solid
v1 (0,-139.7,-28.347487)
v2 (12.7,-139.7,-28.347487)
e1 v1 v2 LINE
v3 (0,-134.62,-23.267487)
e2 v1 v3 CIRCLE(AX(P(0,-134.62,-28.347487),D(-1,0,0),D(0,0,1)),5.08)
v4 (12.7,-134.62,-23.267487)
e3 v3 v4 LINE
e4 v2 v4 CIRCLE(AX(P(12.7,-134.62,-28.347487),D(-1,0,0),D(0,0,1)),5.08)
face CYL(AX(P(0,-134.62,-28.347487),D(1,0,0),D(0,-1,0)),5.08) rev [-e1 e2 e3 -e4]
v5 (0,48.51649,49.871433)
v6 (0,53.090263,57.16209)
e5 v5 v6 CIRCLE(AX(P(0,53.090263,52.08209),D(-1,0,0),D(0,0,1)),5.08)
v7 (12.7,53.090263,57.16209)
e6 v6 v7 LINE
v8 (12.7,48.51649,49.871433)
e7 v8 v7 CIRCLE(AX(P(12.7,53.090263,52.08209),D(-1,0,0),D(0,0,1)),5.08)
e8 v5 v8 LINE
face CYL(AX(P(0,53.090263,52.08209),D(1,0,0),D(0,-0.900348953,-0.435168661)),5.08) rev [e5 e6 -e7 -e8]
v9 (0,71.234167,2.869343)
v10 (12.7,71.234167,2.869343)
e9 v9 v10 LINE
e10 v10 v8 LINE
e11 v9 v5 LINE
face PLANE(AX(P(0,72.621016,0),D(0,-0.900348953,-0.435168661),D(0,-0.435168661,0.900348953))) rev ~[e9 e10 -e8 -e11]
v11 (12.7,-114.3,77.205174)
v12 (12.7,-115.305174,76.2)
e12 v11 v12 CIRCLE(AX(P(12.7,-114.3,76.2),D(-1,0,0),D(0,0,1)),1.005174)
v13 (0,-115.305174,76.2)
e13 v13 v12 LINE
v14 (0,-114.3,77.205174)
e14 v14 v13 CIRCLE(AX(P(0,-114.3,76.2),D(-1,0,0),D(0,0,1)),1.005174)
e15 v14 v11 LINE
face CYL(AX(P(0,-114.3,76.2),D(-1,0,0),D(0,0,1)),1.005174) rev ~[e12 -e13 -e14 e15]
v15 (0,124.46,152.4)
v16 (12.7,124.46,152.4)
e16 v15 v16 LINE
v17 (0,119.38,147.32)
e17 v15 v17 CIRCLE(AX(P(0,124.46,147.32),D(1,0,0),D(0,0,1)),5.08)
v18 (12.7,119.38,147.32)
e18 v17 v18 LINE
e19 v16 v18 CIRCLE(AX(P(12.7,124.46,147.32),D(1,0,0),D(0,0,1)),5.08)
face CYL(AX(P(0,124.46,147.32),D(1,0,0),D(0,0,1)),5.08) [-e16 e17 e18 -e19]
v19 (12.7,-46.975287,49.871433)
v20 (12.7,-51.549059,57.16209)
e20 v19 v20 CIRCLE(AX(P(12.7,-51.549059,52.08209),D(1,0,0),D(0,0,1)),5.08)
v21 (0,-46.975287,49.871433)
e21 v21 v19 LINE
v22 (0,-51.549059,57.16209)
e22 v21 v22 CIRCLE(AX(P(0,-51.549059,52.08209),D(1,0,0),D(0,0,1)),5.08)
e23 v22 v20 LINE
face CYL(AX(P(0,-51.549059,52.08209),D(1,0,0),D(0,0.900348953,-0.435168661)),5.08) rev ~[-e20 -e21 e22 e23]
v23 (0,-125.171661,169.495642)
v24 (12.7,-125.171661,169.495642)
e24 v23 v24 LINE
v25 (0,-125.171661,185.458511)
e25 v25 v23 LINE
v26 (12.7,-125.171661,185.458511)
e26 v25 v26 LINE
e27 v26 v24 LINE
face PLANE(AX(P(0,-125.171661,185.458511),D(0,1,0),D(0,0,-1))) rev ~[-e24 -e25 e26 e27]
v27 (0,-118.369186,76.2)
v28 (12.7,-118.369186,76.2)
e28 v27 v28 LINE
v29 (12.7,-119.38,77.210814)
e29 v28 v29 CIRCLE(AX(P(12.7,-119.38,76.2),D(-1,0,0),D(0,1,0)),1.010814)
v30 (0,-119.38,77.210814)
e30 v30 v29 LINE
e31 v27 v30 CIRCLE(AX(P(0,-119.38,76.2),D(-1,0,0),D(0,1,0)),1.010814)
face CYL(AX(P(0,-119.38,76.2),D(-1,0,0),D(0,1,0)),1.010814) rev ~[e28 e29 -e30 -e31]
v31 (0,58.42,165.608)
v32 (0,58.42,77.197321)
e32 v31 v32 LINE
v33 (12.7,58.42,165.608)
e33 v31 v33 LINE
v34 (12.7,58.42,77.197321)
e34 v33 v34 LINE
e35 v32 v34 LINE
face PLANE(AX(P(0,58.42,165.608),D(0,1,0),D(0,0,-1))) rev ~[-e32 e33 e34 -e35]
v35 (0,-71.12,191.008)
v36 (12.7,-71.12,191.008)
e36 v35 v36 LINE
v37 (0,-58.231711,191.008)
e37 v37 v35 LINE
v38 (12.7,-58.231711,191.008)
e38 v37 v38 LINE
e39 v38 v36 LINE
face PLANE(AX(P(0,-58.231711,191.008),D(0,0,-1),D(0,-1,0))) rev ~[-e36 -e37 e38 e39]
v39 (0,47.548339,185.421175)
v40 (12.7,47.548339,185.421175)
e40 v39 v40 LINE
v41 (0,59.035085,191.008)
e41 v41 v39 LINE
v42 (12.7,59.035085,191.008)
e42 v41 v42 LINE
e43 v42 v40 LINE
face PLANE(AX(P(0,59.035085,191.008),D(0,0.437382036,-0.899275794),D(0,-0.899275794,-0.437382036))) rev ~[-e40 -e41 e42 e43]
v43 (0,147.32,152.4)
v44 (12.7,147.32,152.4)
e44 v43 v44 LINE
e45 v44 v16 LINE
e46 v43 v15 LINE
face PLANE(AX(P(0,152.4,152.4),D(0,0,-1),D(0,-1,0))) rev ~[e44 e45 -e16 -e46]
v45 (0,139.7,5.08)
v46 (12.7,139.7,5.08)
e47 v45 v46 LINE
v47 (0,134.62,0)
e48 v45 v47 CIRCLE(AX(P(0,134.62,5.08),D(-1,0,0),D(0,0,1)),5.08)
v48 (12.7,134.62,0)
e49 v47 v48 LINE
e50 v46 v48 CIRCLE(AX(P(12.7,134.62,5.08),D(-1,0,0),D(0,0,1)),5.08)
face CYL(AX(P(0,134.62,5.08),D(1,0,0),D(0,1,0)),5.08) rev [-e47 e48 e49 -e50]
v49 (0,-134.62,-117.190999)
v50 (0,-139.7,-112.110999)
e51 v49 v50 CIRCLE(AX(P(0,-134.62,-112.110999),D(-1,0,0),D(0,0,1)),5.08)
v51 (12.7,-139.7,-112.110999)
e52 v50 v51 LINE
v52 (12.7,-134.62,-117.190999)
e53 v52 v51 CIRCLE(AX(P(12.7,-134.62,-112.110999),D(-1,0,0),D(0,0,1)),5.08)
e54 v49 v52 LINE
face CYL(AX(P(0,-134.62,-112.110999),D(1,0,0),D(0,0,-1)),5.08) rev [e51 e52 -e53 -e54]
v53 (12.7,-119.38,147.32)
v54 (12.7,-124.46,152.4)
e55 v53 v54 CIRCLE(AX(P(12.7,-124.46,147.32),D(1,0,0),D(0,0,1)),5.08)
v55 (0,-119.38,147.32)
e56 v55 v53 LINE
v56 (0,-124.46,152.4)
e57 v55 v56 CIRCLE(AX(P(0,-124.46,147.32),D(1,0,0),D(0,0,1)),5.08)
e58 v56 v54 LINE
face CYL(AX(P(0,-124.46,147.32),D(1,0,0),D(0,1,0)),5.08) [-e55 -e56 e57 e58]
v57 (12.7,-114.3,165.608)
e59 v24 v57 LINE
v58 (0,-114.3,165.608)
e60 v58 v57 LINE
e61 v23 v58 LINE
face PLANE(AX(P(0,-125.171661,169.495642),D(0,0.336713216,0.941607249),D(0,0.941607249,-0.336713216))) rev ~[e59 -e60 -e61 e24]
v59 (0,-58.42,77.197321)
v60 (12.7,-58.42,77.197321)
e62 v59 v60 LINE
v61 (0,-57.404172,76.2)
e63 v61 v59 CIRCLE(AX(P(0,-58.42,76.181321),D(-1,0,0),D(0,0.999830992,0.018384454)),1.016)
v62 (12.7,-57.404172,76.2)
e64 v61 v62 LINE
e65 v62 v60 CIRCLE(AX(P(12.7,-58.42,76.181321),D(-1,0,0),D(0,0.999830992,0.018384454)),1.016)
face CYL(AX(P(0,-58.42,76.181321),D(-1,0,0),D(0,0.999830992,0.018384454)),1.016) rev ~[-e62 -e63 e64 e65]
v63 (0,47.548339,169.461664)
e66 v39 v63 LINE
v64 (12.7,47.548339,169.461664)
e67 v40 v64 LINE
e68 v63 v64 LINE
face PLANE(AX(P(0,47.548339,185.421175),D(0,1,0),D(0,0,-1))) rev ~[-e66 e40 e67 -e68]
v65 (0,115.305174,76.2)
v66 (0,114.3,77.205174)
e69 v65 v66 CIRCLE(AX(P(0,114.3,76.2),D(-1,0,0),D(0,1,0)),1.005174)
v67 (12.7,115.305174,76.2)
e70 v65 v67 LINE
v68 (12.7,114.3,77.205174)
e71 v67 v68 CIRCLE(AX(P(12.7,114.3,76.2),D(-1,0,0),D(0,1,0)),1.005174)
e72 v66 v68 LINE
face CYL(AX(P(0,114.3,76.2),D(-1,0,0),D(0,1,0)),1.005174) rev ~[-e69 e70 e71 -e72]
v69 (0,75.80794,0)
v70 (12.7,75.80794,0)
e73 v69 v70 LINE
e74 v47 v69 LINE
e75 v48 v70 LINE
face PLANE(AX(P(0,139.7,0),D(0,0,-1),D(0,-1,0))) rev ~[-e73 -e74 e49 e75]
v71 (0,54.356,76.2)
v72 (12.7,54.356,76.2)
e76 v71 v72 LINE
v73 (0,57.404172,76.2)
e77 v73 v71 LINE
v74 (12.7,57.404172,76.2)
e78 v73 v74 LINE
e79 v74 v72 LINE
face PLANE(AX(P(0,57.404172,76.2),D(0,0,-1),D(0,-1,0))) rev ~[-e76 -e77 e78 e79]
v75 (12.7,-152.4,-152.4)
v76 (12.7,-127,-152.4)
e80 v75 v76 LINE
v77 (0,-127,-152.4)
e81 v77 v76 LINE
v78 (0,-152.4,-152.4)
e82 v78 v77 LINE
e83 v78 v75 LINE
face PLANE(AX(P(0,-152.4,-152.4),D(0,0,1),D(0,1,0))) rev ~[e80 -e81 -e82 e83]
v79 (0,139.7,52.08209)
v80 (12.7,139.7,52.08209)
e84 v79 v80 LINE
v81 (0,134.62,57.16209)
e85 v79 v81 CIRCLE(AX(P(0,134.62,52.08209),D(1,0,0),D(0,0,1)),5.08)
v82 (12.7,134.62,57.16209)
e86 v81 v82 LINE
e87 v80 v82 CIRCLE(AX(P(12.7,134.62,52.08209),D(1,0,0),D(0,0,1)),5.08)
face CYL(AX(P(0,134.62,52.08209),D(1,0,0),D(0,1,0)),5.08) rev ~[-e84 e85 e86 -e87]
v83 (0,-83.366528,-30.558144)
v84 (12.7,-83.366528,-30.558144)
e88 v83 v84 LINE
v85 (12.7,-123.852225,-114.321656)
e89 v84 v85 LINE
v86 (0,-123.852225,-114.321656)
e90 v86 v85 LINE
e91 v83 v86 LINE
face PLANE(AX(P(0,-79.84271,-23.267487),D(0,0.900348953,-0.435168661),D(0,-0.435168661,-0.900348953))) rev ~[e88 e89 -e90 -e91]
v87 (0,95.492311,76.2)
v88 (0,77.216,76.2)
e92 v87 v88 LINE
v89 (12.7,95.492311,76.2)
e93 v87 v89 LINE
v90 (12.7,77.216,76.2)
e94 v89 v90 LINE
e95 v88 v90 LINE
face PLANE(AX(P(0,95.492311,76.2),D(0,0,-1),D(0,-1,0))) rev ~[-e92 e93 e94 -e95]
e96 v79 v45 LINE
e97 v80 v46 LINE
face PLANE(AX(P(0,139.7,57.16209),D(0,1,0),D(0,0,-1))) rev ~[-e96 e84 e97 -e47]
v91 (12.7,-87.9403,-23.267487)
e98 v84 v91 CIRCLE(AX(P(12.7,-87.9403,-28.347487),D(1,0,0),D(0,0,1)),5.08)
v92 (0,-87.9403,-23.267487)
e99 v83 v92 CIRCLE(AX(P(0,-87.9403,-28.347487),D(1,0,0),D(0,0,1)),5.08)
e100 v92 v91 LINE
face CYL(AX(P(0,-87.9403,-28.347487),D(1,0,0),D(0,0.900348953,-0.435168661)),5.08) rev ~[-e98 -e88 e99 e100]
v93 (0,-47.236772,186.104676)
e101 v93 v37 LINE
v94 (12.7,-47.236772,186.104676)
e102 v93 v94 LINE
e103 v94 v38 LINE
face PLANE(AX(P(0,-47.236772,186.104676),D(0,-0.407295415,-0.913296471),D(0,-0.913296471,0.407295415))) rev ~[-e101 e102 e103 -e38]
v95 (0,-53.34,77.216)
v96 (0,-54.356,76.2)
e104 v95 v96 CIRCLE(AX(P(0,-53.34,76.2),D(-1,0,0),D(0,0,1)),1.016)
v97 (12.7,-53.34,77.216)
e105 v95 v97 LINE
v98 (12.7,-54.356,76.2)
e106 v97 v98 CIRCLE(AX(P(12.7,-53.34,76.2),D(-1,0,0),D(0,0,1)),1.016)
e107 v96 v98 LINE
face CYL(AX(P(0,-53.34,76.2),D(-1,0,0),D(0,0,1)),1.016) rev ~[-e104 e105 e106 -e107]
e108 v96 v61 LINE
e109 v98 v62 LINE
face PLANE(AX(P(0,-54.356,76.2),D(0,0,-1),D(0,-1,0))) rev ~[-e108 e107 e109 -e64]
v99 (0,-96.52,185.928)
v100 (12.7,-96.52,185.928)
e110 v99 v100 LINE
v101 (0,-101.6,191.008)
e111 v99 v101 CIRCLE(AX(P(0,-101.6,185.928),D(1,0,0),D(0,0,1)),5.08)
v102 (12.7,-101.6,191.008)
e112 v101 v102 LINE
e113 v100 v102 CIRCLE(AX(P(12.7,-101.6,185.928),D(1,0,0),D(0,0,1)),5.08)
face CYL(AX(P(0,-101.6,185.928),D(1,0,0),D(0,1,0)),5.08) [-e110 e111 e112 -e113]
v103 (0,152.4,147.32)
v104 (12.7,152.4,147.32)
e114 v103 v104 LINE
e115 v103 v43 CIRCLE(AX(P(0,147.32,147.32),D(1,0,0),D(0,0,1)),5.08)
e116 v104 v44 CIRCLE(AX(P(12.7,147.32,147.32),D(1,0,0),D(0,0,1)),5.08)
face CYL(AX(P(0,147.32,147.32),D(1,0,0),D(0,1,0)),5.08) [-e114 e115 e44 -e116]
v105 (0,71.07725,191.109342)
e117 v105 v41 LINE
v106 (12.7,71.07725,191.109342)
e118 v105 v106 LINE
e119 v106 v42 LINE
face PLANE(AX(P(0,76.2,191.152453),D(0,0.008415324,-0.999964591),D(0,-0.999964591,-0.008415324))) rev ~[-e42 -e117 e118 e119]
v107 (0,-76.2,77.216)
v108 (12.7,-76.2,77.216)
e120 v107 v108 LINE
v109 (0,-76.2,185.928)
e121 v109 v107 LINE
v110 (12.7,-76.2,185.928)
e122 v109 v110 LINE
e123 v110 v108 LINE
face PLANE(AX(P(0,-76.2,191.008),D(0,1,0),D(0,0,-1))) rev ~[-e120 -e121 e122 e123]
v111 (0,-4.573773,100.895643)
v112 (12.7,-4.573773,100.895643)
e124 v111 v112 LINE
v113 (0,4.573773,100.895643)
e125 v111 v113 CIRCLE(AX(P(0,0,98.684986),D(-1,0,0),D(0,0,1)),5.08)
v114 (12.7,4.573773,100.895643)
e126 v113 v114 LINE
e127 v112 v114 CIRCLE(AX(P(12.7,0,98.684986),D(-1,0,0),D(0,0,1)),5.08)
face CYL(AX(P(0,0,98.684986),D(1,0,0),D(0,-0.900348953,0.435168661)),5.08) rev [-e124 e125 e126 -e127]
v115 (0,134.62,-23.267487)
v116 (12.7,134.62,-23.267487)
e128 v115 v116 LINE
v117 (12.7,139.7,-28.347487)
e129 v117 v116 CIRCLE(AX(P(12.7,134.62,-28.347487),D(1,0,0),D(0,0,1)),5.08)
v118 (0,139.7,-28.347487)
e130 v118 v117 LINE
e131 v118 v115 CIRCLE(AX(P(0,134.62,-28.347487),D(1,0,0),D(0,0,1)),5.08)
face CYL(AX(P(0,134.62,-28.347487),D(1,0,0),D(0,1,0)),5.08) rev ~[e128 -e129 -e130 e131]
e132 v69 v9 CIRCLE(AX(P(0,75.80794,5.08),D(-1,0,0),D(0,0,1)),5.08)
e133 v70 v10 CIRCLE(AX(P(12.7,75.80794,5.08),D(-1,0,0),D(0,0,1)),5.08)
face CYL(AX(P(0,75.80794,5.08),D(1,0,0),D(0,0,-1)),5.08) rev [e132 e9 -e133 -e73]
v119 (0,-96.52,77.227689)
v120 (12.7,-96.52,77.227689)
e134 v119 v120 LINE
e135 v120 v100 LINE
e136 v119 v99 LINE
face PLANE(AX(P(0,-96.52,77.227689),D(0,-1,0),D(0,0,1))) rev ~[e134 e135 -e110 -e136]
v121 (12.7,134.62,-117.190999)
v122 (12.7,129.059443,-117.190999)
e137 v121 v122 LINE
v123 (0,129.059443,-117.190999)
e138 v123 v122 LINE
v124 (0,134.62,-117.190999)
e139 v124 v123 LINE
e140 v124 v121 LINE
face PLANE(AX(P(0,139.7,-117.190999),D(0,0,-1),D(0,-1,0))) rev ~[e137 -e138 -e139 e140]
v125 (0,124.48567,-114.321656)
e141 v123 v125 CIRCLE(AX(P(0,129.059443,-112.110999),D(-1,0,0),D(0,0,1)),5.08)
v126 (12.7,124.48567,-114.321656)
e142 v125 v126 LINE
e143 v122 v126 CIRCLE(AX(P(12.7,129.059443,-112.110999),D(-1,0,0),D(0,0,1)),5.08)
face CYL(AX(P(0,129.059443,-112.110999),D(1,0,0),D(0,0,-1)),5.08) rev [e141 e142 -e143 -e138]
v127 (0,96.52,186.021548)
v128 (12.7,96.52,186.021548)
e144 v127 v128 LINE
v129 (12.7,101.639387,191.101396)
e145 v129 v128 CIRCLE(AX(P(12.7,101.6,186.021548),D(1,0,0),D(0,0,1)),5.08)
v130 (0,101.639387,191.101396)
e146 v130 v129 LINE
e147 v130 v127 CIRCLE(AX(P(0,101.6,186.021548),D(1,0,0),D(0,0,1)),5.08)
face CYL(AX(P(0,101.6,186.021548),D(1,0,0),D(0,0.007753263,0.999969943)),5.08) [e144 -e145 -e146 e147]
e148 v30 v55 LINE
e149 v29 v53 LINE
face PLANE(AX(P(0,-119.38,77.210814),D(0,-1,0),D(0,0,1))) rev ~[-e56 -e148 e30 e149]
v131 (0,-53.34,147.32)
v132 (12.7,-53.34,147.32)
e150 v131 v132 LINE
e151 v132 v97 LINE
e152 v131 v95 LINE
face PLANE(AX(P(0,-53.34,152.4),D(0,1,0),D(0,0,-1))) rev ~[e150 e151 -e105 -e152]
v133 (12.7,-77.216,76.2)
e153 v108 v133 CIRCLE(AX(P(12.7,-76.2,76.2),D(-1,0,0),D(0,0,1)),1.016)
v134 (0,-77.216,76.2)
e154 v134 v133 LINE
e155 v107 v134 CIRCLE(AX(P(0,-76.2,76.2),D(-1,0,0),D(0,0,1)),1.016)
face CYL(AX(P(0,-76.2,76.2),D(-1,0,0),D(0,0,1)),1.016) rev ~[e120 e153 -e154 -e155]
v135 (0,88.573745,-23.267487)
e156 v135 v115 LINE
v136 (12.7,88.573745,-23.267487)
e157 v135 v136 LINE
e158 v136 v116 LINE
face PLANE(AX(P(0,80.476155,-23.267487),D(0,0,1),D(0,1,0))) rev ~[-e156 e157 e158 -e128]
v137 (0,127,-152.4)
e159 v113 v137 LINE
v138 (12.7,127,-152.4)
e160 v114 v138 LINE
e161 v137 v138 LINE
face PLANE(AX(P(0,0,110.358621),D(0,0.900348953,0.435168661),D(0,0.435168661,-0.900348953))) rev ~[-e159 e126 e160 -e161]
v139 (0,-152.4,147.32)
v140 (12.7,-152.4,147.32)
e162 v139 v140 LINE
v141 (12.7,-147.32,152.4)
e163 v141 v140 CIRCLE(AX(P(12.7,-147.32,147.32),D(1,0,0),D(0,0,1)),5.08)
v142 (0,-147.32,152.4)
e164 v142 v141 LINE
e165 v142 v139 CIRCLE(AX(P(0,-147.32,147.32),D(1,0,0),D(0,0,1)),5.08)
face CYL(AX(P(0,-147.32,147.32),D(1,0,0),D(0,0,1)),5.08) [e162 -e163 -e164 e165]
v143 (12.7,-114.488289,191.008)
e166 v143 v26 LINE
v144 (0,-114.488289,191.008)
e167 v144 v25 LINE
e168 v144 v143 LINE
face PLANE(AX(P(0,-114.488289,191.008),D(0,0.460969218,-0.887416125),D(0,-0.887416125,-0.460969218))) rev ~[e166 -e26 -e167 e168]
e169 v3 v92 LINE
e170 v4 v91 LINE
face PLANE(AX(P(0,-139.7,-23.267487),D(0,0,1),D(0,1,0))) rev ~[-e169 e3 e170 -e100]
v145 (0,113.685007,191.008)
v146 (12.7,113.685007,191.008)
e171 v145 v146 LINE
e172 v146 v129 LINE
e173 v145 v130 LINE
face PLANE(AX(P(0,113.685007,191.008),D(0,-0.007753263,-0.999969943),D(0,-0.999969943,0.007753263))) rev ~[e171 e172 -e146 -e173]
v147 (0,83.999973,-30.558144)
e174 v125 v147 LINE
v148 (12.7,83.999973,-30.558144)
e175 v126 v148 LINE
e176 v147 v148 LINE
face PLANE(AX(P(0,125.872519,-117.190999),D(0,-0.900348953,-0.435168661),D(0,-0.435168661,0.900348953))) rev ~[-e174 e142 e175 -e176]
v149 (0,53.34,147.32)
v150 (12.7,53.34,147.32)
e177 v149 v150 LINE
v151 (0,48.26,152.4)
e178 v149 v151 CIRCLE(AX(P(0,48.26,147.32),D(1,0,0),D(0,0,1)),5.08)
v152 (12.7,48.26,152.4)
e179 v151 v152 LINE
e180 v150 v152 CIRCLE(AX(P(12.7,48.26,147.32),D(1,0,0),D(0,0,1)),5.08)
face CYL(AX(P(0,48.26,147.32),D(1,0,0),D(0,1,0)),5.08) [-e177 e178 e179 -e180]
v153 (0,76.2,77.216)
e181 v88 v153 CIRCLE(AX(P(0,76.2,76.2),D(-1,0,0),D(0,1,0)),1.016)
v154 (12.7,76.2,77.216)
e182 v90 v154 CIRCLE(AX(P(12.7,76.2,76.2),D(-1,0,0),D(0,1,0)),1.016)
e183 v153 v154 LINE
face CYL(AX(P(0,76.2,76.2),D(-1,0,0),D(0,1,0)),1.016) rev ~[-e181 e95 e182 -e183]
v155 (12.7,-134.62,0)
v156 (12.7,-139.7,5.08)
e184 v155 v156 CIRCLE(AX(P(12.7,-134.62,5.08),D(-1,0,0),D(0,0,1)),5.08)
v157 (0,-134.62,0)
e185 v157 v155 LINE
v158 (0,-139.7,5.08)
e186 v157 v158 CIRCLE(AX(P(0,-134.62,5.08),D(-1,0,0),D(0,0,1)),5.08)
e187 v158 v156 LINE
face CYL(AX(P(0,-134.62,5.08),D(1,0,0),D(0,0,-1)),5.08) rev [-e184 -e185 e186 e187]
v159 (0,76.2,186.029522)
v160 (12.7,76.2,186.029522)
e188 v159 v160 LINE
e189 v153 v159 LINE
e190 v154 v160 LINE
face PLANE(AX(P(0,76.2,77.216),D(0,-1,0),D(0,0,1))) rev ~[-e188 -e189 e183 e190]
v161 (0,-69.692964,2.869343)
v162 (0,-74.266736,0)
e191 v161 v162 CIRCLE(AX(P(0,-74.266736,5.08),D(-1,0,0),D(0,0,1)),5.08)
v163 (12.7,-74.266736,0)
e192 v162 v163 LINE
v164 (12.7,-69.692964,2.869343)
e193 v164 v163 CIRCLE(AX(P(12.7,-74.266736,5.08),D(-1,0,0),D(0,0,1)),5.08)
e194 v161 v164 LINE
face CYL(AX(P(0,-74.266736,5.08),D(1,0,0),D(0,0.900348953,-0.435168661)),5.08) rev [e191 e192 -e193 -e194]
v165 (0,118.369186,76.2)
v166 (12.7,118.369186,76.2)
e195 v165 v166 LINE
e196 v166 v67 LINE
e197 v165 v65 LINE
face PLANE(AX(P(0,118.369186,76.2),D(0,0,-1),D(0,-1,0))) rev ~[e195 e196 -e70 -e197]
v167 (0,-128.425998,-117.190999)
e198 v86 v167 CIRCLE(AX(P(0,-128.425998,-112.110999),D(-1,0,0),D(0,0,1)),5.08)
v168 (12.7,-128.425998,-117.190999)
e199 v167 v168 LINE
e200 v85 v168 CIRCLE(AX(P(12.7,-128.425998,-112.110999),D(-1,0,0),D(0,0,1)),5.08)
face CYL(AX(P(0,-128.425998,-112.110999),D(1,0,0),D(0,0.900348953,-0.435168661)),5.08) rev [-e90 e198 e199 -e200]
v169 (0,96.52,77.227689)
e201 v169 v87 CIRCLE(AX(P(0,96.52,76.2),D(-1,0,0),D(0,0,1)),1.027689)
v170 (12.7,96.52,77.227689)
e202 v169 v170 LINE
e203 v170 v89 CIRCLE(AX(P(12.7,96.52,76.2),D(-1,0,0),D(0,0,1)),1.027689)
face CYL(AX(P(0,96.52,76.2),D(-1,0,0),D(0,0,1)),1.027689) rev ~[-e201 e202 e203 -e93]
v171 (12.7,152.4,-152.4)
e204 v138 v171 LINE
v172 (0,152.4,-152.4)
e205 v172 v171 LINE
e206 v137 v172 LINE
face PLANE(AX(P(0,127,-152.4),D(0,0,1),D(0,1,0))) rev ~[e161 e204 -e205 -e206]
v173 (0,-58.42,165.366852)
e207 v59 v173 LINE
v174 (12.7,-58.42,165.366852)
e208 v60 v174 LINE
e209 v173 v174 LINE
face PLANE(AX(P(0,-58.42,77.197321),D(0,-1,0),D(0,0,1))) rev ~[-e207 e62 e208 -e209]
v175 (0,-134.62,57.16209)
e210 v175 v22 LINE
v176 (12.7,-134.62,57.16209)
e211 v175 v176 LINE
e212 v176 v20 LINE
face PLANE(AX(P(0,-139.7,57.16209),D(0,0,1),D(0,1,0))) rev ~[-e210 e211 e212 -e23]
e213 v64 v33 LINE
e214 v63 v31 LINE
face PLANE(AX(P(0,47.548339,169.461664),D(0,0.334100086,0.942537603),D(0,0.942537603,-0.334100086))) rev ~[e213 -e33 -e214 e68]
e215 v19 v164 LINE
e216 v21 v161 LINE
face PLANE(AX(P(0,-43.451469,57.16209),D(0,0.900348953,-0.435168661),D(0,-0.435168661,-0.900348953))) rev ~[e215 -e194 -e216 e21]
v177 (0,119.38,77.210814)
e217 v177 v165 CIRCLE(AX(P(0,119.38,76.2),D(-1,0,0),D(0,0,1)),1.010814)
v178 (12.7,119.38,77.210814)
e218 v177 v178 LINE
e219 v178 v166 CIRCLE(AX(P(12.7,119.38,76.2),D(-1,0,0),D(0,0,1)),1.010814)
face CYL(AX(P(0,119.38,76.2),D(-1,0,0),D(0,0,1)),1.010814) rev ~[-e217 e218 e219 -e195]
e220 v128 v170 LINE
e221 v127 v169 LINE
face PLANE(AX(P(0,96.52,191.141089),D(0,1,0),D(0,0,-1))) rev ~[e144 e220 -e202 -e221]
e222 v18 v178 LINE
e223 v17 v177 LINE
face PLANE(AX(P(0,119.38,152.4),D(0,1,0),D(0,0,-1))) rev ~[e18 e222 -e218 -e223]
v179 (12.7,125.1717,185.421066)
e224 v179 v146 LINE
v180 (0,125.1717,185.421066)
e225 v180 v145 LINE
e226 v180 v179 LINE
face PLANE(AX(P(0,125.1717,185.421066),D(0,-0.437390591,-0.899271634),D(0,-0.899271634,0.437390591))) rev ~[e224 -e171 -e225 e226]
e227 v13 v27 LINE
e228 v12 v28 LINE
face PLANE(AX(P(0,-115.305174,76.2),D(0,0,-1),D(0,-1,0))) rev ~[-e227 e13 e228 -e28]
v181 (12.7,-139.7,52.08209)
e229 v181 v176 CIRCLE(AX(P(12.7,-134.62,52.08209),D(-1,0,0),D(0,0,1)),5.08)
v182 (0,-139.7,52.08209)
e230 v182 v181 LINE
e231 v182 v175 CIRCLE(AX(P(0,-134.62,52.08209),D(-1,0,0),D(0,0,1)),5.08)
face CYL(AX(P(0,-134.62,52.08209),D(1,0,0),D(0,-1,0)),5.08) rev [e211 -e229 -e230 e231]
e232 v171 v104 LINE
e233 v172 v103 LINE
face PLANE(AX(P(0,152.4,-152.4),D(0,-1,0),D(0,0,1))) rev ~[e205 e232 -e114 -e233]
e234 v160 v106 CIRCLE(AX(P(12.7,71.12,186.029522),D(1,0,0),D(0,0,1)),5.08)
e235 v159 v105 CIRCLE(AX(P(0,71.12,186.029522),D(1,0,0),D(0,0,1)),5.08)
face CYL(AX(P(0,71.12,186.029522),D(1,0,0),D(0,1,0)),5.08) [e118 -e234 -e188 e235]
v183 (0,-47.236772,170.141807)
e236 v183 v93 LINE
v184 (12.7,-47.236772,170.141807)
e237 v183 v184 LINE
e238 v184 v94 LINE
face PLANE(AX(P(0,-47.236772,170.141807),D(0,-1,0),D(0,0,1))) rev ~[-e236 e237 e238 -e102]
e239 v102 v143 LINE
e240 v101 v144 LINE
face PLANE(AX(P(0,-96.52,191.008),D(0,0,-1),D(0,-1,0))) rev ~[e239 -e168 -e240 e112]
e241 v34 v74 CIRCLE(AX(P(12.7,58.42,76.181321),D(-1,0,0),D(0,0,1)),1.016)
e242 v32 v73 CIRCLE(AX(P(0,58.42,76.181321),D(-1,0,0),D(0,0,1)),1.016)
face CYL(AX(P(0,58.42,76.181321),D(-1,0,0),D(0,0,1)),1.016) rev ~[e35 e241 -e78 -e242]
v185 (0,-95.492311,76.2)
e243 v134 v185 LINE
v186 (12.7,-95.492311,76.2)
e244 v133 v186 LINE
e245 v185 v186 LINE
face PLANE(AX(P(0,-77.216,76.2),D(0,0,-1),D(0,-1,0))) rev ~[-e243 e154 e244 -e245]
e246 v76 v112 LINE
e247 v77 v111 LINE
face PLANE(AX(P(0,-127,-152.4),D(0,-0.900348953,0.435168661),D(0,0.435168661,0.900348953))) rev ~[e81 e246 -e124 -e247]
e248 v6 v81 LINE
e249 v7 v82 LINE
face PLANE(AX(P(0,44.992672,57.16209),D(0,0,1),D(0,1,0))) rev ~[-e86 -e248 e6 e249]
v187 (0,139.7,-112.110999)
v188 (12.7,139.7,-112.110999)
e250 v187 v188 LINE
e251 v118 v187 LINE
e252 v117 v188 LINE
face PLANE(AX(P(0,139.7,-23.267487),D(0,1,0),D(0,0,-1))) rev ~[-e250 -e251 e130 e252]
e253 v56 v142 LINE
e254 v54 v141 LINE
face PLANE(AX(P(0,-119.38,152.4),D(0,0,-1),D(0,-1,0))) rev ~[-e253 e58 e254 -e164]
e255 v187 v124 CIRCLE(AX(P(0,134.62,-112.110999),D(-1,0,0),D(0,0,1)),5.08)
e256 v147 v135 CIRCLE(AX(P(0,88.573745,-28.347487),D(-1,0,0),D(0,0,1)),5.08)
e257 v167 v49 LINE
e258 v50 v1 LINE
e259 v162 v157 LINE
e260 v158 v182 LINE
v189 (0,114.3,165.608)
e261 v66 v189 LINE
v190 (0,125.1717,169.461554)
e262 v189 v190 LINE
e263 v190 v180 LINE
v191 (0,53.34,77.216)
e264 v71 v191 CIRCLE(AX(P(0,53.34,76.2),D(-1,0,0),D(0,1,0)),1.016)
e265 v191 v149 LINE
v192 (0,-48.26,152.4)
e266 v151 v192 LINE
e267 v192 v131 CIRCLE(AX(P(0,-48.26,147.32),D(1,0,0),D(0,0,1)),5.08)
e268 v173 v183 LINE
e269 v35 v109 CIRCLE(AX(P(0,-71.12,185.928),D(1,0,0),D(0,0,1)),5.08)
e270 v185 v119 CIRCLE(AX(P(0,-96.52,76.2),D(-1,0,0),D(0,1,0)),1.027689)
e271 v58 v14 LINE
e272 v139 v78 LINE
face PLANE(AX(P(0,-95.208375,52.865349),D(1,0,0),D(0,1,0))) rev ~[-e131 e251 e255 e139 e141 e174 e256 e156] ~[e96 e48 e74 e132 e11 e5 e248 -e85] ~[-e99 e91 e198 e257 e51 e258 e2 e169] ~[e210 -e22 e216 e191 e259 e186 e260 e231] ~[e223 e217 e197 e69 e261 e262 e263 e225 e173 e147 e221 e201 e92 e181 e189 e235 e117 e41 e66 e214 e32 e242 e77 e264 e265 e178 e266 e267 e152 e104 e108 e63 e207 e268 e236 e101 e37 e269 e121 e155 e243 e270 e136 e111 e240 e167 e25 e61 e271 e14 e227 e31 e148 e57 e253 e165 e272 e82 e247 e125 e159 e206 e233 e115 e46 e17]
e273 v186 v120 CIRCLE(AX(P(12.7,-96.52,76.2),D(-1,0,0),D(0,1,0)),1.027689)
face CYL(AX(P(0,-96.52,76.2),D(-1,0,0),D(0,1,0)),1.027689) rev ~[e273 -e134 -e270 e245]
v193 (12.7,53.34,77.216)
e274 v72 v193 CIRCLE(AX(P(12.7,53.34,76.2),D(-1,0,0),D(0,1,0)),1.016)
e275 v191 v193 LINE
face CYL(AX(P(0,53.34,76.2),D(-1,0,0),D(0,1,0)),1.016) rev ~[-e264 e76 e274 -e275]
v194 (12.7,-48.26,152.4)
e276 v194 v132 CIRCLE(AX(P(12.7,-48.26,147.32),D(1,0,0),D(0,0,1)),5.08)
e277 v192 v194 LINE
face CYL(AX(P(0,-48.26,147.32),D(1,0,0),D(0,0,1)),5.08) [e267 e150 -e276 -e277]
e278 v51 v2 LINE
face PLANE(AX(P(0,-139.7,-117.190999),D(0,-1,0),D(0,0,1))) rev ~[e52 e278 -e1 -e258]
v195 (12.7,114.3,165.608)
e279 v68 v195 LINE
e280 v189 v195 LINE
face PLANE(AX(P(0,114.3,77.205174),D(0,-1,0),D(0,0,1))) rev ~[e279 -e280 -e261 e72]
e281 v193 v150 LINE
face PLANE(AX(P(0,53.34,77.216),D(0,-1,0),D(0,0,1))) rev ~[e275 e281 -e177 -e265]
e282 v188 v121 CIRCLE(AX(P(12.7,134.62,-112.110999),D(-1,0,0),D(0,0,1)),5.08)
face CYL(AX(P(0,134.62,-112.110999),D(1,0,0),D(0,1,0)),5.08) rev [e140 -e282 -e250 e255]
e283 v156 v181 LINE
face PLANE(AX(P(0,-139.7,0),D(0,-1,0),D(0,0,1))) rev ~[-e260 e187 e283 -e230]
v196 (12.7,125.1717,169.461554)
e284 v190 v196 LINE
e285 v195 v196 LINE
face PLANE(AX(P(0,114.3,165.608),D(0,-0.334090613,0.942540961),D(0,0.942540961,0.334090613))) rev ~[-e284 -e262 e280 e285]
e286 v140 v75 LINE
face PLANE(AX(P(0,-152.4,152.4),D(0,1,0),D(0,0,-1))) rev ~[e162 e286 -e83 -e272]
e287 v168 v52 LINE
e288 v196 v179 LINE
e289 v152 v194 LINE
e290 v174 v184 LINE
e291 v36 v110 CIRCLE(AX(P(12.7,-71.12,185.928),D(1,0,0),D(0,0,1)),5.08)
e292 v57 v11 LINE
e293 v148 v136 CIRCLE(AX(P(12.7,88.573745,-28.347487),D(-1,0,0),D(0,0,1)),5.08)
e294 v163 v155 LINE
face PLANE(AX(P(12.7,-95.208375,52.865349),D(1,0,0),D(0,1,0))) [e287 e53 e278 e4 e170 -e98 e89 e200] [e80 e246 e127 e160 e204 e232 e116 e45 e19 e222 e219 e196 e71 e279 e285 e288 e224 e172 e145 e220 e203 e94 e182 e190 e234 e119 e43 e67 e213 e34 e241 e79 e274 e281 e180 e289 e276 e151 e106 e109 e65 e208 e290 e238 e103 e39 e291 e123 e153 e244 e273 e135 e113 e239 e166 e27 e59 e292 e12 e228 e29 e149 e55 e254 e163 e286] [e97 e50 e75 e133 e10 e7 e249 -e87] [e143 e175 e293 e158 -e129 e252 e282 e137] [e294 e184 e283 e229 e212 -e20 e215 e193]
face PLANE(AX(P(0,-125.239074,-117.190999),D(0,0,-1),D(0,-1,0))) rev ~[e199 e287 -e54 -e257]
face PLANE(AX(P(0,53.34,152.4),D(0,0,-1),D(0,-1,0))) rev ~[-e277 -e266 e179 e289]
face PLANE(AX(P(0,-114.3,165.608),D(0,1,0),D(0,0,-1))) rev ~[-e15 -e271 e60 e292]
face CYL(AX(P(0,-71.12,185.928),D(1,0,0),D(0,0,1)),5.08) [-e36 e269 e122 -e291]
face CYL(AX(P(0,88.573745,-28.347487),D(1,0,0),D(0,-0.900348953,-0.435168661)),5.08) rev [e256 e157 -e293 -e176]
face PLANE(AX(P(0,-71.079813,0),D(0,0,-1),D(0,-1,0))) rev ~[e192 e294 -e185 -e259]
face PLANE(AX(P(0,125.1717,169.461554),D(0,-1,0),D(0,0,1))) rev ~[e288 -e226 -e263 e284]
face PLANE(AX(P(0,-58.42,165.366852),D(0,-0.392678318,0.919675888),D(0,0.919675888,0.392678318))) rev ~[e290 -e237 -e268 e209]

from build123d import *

# Parameters (mm, degrees)
F1_DEPTH = 12.7
F2_R     = 5.08
F3_R     = 5.08
F4_R     = 5.08
F5_R     = 5.08


with BuildPart() as f1:
    # F0 (on Right) → F1 (new body)
    with BuildSketch(Plane.YZ):
        with BuildLine():
            Line((-152.4, -152.4), (-127, -152.4))
            Line((-127, -152.4), (0, 110.3586206897))
            Line((0, 110.3586206897), (-20.32, 152.4))
            Line((-20.32, 152.4), (-53.34, 152.4))
            Line((-53.34, 152.4), (-53.34, 77.216))
            ThreePointArc((-53.34, 77.216), (-52.6215795103, 75.4815795103), (-54.356, 76.2))
            Line((-54.356, 76.2), (-57.4041717125, 76.2))
            ThreePointArc((-57.4041717125, 76.2), (-59.1317859709, 75.4563270968), (-58.42, 77.1973213944))
            Line((-58.42, 77.1973213944), (-58.42, 152.4))
            Line((-58.42, 152.4), (-76.2, 152.4))
            Line((-76.2, 152.4), (-76.2, 77.216))
            ThreePointArc((-76.2, 77.216), (-75.4815795103, 75.4815795103), (-77.216, 76.2))
            Line((-77.216, 76.2), (-95.4923106742, 76.2))
            ThreePointArc((-95.4923106742, 76.2), (-97.2466860912, 75.4733139088), (-96.52, 77.2276893258))
            Line((-96.52, 77.2276893258), (-96.52, 152.4))
            Line((-96.52, 152.4), (-114.3, 152.4))
            Line((-114.3, 152.4), (-114.3, 77.2051736712))
            ThreePointArc((-114.3, 77.2051736712), (-113.5892348808, 75.4892348808), (-115.3051736712, 76.2))
            Line((-115.3051736712, 76.2), (-118.3691862392, 76.2))
            ThreePointArc((-118.3691862392, 76.2), (-120.0947532647, 75.4852467353), (-119.38, 77.2108137608))
            Line((-119.38, 77.2108137608), (-119.38, 152.4))
            Line((-119.38, 152.4), (-152.4, 152.4))
            Line((-152.4, 152.4), (-152.4, -152.4))
        make_face()
        Polygon((-125.2390742302, -117.1909989266), (-139.7, -117.1909989266), (-139.7, -23.267487064), (-79.8427101633, -23.267487064), align=None, mode=Mode.SUBTRACT)
        Polygon((-71.0798129439, 0), (-139.7, 0), (-139.7, 57.1620902733), (-43.4514693118, 57.1620902733), align=None, mode=Mode.SUBTRACT)
        Polygon((-20.32, 152.4), (0, 110.3586206897), (20.32, 152.4), align=None)
        Polygon((-114.3, 165.608), (-114.3, 152.4), (-96.52, 152.4), (-96.52, 191.008), (-114.4882887602, 191.008), (-125.171661377, 185.4585111141), (-125.171661377, 169.4956421852), align=None)
        Polygon((-76.2, 152.4), (-58.42, 152.4), (-58.42, 165.3668519163), (-47.2367718493, 170.141807182), (-47.2367718493, 186.1046761109), (-58.2317112398, 191.008), (-76.2, 191.008), align=None)
        with BuildLine():
            Line((152.4, -152.4), (152.4, 152.4))
            Line((152.4, 152.4), (119.38, 152.4))
            Line((119.38, 152.4), (119.38, 77.2108137608))
            ThreePointArc((119.38, 77.2108137608), (120.0947532647, 75.4852467353), (118.3691862392, 76.2))
            Line((118.3691862392, 76.2), (115.3051736712, 76.2))
            ThreePointArc((115.3051736712, 76.2), (113.5892348808, 75.4892348808), (114.3, 77.2051736712))
            Line((114.3, 77.2051736712), (114.3, 152.4))
            Line((114.3, 152.4), (96.52, 152.4))
            Line((96.52, 152.4), (96.52, 77.2276893258))
            ThreePointArc((96.52, 77.2276893258), (97.2466860912, 75.4733139088), (95.4923106742, 76.2))
            Line((95.4923106742, 76.2), (77.216, 76.2))
            ThreePointArc((77.216, 76.2), (75.4815795103, 75.4815795103), (76.2, 77.216))
            Line((76.2, 77.216), (76.2, 152.4))
            Line((76.2, 152.4), (58.42, 152.4))
            Line((58.42, 152.4), (58.42, 77.1973213944))
            ThreePointArc((58.42, 77.1973213944), (59.1317859709, 75.4563270968), (57.4041717125, 76.2))
            Line((57.4041717125, 76.2), (54.356, 76.2))
            ThreePointArc((54.356, 76.2), (52.6215795103, 75.4815795103), (53.34, 77.216))
            Line((53.34, 77.216), (53.34, 152.4))
            Line((53.34, 152.4), (20.32, 152.4))
            Line((20.32, 152.4), (0, 110.3586206897))
            Line((0, 110.3586206897), (127, -152.4))
            Line((127, -152.4), (152.4, -152.4))
        make_face()
        Polygon((139.7, -117.1909989266), (125.8725191181, -117.1909989266), (80.4761550512, -23.267487064), (139.7, -23.267487064), align=None, mode=Mode.SUBTRACT)
        Polygon((139.7, 0), (72.6210160618, 0), (44.9926724297, 57.1620902733), (139.7, 57.1620902733), align=None, mode=Mode.SUBTRACT)
        Polygon((58.42, 152.4), (76.2, 152.4), (76.2, 166.0996880174), (76.2, 191.1524534295), (59.0350851188, 191.008), (47.548338623, 185.4211749058), (47.548338623, 169.4616637616), (58.42, 165.608), align=None)
        Polygon((96.52, 152.4), (114.3, 152.4), (114.3, 165.608), (125.1717001088, 169.4615544924), (125.1717001088, 185.4210656367), (113.6850067591, 191.008), (96.52, 191.141088813), (96.52, 166.109945806), align=None)
    extrude(amount=F1_DEPTH)

    # F2
    f2_edges = [f1.edges().sort_by_distance(p)[0] for p in [
        (6.35, -139.7, 57.16209),
        (6.35, -43.451469, 57.16209),
        (6.35, -71.079813, 0),
        (6.35, -139.7, 0),
    ]]
    fillet(f2_edges, radius=F2_R)

    # F3
    f3_edges = [f1.edges().sort_by_distance(p)[0] for p in [
        (6.35, -139.7, -23.267487),
        (6.35, -79.84271, -23.267487),
        (6.35, -125.239074, -117.190999),
        (6.35, -139.7, -117.190999),
    ]]
    fillet(f3_edges, radius=F3_R)

    # F4
    f4_edges = [f1.edges().sort_by_distance(p)[0] for p in [
        (6.35, 139.7, 57.16209),
        (6.35, 44.992672, 57.16209),
        (6.35, 72.621016, 0),
        (6.35, 139.7, 0),
        (6.35, 139.7, -23.267487),
        (6.35, 80.476155, -23.267487),
        (6.35, 125.872519, -117.190999),
        (6.35, 139.7, -117.190999),
    ]]
    fillet(f4_edges, radius=F4_R)

    # F5
    f5_edges = [f1.edges().sort_by_distance(p)[0] for p in [
        (6.35, -119.38, 152.4),
        (6.35, -152.4, 152.4),
        (6.35, -53.34, 152.4),
        (6.35, 53.34, 152.4),
        (6.35, 119.38, 152.4),
        (6.35, 152.4, 152.4),
        (6.35, 0, 110.358621),
        (6.35, -96.52, 191.008),
        (6.35, -76.2, 191.008),
        (6.35, 96.52, 191.141089),
        (6.35, 76.2, 191.152453),
    ]]
    fillet(f5_edges, radius=F5_R)


solid = f1.part
